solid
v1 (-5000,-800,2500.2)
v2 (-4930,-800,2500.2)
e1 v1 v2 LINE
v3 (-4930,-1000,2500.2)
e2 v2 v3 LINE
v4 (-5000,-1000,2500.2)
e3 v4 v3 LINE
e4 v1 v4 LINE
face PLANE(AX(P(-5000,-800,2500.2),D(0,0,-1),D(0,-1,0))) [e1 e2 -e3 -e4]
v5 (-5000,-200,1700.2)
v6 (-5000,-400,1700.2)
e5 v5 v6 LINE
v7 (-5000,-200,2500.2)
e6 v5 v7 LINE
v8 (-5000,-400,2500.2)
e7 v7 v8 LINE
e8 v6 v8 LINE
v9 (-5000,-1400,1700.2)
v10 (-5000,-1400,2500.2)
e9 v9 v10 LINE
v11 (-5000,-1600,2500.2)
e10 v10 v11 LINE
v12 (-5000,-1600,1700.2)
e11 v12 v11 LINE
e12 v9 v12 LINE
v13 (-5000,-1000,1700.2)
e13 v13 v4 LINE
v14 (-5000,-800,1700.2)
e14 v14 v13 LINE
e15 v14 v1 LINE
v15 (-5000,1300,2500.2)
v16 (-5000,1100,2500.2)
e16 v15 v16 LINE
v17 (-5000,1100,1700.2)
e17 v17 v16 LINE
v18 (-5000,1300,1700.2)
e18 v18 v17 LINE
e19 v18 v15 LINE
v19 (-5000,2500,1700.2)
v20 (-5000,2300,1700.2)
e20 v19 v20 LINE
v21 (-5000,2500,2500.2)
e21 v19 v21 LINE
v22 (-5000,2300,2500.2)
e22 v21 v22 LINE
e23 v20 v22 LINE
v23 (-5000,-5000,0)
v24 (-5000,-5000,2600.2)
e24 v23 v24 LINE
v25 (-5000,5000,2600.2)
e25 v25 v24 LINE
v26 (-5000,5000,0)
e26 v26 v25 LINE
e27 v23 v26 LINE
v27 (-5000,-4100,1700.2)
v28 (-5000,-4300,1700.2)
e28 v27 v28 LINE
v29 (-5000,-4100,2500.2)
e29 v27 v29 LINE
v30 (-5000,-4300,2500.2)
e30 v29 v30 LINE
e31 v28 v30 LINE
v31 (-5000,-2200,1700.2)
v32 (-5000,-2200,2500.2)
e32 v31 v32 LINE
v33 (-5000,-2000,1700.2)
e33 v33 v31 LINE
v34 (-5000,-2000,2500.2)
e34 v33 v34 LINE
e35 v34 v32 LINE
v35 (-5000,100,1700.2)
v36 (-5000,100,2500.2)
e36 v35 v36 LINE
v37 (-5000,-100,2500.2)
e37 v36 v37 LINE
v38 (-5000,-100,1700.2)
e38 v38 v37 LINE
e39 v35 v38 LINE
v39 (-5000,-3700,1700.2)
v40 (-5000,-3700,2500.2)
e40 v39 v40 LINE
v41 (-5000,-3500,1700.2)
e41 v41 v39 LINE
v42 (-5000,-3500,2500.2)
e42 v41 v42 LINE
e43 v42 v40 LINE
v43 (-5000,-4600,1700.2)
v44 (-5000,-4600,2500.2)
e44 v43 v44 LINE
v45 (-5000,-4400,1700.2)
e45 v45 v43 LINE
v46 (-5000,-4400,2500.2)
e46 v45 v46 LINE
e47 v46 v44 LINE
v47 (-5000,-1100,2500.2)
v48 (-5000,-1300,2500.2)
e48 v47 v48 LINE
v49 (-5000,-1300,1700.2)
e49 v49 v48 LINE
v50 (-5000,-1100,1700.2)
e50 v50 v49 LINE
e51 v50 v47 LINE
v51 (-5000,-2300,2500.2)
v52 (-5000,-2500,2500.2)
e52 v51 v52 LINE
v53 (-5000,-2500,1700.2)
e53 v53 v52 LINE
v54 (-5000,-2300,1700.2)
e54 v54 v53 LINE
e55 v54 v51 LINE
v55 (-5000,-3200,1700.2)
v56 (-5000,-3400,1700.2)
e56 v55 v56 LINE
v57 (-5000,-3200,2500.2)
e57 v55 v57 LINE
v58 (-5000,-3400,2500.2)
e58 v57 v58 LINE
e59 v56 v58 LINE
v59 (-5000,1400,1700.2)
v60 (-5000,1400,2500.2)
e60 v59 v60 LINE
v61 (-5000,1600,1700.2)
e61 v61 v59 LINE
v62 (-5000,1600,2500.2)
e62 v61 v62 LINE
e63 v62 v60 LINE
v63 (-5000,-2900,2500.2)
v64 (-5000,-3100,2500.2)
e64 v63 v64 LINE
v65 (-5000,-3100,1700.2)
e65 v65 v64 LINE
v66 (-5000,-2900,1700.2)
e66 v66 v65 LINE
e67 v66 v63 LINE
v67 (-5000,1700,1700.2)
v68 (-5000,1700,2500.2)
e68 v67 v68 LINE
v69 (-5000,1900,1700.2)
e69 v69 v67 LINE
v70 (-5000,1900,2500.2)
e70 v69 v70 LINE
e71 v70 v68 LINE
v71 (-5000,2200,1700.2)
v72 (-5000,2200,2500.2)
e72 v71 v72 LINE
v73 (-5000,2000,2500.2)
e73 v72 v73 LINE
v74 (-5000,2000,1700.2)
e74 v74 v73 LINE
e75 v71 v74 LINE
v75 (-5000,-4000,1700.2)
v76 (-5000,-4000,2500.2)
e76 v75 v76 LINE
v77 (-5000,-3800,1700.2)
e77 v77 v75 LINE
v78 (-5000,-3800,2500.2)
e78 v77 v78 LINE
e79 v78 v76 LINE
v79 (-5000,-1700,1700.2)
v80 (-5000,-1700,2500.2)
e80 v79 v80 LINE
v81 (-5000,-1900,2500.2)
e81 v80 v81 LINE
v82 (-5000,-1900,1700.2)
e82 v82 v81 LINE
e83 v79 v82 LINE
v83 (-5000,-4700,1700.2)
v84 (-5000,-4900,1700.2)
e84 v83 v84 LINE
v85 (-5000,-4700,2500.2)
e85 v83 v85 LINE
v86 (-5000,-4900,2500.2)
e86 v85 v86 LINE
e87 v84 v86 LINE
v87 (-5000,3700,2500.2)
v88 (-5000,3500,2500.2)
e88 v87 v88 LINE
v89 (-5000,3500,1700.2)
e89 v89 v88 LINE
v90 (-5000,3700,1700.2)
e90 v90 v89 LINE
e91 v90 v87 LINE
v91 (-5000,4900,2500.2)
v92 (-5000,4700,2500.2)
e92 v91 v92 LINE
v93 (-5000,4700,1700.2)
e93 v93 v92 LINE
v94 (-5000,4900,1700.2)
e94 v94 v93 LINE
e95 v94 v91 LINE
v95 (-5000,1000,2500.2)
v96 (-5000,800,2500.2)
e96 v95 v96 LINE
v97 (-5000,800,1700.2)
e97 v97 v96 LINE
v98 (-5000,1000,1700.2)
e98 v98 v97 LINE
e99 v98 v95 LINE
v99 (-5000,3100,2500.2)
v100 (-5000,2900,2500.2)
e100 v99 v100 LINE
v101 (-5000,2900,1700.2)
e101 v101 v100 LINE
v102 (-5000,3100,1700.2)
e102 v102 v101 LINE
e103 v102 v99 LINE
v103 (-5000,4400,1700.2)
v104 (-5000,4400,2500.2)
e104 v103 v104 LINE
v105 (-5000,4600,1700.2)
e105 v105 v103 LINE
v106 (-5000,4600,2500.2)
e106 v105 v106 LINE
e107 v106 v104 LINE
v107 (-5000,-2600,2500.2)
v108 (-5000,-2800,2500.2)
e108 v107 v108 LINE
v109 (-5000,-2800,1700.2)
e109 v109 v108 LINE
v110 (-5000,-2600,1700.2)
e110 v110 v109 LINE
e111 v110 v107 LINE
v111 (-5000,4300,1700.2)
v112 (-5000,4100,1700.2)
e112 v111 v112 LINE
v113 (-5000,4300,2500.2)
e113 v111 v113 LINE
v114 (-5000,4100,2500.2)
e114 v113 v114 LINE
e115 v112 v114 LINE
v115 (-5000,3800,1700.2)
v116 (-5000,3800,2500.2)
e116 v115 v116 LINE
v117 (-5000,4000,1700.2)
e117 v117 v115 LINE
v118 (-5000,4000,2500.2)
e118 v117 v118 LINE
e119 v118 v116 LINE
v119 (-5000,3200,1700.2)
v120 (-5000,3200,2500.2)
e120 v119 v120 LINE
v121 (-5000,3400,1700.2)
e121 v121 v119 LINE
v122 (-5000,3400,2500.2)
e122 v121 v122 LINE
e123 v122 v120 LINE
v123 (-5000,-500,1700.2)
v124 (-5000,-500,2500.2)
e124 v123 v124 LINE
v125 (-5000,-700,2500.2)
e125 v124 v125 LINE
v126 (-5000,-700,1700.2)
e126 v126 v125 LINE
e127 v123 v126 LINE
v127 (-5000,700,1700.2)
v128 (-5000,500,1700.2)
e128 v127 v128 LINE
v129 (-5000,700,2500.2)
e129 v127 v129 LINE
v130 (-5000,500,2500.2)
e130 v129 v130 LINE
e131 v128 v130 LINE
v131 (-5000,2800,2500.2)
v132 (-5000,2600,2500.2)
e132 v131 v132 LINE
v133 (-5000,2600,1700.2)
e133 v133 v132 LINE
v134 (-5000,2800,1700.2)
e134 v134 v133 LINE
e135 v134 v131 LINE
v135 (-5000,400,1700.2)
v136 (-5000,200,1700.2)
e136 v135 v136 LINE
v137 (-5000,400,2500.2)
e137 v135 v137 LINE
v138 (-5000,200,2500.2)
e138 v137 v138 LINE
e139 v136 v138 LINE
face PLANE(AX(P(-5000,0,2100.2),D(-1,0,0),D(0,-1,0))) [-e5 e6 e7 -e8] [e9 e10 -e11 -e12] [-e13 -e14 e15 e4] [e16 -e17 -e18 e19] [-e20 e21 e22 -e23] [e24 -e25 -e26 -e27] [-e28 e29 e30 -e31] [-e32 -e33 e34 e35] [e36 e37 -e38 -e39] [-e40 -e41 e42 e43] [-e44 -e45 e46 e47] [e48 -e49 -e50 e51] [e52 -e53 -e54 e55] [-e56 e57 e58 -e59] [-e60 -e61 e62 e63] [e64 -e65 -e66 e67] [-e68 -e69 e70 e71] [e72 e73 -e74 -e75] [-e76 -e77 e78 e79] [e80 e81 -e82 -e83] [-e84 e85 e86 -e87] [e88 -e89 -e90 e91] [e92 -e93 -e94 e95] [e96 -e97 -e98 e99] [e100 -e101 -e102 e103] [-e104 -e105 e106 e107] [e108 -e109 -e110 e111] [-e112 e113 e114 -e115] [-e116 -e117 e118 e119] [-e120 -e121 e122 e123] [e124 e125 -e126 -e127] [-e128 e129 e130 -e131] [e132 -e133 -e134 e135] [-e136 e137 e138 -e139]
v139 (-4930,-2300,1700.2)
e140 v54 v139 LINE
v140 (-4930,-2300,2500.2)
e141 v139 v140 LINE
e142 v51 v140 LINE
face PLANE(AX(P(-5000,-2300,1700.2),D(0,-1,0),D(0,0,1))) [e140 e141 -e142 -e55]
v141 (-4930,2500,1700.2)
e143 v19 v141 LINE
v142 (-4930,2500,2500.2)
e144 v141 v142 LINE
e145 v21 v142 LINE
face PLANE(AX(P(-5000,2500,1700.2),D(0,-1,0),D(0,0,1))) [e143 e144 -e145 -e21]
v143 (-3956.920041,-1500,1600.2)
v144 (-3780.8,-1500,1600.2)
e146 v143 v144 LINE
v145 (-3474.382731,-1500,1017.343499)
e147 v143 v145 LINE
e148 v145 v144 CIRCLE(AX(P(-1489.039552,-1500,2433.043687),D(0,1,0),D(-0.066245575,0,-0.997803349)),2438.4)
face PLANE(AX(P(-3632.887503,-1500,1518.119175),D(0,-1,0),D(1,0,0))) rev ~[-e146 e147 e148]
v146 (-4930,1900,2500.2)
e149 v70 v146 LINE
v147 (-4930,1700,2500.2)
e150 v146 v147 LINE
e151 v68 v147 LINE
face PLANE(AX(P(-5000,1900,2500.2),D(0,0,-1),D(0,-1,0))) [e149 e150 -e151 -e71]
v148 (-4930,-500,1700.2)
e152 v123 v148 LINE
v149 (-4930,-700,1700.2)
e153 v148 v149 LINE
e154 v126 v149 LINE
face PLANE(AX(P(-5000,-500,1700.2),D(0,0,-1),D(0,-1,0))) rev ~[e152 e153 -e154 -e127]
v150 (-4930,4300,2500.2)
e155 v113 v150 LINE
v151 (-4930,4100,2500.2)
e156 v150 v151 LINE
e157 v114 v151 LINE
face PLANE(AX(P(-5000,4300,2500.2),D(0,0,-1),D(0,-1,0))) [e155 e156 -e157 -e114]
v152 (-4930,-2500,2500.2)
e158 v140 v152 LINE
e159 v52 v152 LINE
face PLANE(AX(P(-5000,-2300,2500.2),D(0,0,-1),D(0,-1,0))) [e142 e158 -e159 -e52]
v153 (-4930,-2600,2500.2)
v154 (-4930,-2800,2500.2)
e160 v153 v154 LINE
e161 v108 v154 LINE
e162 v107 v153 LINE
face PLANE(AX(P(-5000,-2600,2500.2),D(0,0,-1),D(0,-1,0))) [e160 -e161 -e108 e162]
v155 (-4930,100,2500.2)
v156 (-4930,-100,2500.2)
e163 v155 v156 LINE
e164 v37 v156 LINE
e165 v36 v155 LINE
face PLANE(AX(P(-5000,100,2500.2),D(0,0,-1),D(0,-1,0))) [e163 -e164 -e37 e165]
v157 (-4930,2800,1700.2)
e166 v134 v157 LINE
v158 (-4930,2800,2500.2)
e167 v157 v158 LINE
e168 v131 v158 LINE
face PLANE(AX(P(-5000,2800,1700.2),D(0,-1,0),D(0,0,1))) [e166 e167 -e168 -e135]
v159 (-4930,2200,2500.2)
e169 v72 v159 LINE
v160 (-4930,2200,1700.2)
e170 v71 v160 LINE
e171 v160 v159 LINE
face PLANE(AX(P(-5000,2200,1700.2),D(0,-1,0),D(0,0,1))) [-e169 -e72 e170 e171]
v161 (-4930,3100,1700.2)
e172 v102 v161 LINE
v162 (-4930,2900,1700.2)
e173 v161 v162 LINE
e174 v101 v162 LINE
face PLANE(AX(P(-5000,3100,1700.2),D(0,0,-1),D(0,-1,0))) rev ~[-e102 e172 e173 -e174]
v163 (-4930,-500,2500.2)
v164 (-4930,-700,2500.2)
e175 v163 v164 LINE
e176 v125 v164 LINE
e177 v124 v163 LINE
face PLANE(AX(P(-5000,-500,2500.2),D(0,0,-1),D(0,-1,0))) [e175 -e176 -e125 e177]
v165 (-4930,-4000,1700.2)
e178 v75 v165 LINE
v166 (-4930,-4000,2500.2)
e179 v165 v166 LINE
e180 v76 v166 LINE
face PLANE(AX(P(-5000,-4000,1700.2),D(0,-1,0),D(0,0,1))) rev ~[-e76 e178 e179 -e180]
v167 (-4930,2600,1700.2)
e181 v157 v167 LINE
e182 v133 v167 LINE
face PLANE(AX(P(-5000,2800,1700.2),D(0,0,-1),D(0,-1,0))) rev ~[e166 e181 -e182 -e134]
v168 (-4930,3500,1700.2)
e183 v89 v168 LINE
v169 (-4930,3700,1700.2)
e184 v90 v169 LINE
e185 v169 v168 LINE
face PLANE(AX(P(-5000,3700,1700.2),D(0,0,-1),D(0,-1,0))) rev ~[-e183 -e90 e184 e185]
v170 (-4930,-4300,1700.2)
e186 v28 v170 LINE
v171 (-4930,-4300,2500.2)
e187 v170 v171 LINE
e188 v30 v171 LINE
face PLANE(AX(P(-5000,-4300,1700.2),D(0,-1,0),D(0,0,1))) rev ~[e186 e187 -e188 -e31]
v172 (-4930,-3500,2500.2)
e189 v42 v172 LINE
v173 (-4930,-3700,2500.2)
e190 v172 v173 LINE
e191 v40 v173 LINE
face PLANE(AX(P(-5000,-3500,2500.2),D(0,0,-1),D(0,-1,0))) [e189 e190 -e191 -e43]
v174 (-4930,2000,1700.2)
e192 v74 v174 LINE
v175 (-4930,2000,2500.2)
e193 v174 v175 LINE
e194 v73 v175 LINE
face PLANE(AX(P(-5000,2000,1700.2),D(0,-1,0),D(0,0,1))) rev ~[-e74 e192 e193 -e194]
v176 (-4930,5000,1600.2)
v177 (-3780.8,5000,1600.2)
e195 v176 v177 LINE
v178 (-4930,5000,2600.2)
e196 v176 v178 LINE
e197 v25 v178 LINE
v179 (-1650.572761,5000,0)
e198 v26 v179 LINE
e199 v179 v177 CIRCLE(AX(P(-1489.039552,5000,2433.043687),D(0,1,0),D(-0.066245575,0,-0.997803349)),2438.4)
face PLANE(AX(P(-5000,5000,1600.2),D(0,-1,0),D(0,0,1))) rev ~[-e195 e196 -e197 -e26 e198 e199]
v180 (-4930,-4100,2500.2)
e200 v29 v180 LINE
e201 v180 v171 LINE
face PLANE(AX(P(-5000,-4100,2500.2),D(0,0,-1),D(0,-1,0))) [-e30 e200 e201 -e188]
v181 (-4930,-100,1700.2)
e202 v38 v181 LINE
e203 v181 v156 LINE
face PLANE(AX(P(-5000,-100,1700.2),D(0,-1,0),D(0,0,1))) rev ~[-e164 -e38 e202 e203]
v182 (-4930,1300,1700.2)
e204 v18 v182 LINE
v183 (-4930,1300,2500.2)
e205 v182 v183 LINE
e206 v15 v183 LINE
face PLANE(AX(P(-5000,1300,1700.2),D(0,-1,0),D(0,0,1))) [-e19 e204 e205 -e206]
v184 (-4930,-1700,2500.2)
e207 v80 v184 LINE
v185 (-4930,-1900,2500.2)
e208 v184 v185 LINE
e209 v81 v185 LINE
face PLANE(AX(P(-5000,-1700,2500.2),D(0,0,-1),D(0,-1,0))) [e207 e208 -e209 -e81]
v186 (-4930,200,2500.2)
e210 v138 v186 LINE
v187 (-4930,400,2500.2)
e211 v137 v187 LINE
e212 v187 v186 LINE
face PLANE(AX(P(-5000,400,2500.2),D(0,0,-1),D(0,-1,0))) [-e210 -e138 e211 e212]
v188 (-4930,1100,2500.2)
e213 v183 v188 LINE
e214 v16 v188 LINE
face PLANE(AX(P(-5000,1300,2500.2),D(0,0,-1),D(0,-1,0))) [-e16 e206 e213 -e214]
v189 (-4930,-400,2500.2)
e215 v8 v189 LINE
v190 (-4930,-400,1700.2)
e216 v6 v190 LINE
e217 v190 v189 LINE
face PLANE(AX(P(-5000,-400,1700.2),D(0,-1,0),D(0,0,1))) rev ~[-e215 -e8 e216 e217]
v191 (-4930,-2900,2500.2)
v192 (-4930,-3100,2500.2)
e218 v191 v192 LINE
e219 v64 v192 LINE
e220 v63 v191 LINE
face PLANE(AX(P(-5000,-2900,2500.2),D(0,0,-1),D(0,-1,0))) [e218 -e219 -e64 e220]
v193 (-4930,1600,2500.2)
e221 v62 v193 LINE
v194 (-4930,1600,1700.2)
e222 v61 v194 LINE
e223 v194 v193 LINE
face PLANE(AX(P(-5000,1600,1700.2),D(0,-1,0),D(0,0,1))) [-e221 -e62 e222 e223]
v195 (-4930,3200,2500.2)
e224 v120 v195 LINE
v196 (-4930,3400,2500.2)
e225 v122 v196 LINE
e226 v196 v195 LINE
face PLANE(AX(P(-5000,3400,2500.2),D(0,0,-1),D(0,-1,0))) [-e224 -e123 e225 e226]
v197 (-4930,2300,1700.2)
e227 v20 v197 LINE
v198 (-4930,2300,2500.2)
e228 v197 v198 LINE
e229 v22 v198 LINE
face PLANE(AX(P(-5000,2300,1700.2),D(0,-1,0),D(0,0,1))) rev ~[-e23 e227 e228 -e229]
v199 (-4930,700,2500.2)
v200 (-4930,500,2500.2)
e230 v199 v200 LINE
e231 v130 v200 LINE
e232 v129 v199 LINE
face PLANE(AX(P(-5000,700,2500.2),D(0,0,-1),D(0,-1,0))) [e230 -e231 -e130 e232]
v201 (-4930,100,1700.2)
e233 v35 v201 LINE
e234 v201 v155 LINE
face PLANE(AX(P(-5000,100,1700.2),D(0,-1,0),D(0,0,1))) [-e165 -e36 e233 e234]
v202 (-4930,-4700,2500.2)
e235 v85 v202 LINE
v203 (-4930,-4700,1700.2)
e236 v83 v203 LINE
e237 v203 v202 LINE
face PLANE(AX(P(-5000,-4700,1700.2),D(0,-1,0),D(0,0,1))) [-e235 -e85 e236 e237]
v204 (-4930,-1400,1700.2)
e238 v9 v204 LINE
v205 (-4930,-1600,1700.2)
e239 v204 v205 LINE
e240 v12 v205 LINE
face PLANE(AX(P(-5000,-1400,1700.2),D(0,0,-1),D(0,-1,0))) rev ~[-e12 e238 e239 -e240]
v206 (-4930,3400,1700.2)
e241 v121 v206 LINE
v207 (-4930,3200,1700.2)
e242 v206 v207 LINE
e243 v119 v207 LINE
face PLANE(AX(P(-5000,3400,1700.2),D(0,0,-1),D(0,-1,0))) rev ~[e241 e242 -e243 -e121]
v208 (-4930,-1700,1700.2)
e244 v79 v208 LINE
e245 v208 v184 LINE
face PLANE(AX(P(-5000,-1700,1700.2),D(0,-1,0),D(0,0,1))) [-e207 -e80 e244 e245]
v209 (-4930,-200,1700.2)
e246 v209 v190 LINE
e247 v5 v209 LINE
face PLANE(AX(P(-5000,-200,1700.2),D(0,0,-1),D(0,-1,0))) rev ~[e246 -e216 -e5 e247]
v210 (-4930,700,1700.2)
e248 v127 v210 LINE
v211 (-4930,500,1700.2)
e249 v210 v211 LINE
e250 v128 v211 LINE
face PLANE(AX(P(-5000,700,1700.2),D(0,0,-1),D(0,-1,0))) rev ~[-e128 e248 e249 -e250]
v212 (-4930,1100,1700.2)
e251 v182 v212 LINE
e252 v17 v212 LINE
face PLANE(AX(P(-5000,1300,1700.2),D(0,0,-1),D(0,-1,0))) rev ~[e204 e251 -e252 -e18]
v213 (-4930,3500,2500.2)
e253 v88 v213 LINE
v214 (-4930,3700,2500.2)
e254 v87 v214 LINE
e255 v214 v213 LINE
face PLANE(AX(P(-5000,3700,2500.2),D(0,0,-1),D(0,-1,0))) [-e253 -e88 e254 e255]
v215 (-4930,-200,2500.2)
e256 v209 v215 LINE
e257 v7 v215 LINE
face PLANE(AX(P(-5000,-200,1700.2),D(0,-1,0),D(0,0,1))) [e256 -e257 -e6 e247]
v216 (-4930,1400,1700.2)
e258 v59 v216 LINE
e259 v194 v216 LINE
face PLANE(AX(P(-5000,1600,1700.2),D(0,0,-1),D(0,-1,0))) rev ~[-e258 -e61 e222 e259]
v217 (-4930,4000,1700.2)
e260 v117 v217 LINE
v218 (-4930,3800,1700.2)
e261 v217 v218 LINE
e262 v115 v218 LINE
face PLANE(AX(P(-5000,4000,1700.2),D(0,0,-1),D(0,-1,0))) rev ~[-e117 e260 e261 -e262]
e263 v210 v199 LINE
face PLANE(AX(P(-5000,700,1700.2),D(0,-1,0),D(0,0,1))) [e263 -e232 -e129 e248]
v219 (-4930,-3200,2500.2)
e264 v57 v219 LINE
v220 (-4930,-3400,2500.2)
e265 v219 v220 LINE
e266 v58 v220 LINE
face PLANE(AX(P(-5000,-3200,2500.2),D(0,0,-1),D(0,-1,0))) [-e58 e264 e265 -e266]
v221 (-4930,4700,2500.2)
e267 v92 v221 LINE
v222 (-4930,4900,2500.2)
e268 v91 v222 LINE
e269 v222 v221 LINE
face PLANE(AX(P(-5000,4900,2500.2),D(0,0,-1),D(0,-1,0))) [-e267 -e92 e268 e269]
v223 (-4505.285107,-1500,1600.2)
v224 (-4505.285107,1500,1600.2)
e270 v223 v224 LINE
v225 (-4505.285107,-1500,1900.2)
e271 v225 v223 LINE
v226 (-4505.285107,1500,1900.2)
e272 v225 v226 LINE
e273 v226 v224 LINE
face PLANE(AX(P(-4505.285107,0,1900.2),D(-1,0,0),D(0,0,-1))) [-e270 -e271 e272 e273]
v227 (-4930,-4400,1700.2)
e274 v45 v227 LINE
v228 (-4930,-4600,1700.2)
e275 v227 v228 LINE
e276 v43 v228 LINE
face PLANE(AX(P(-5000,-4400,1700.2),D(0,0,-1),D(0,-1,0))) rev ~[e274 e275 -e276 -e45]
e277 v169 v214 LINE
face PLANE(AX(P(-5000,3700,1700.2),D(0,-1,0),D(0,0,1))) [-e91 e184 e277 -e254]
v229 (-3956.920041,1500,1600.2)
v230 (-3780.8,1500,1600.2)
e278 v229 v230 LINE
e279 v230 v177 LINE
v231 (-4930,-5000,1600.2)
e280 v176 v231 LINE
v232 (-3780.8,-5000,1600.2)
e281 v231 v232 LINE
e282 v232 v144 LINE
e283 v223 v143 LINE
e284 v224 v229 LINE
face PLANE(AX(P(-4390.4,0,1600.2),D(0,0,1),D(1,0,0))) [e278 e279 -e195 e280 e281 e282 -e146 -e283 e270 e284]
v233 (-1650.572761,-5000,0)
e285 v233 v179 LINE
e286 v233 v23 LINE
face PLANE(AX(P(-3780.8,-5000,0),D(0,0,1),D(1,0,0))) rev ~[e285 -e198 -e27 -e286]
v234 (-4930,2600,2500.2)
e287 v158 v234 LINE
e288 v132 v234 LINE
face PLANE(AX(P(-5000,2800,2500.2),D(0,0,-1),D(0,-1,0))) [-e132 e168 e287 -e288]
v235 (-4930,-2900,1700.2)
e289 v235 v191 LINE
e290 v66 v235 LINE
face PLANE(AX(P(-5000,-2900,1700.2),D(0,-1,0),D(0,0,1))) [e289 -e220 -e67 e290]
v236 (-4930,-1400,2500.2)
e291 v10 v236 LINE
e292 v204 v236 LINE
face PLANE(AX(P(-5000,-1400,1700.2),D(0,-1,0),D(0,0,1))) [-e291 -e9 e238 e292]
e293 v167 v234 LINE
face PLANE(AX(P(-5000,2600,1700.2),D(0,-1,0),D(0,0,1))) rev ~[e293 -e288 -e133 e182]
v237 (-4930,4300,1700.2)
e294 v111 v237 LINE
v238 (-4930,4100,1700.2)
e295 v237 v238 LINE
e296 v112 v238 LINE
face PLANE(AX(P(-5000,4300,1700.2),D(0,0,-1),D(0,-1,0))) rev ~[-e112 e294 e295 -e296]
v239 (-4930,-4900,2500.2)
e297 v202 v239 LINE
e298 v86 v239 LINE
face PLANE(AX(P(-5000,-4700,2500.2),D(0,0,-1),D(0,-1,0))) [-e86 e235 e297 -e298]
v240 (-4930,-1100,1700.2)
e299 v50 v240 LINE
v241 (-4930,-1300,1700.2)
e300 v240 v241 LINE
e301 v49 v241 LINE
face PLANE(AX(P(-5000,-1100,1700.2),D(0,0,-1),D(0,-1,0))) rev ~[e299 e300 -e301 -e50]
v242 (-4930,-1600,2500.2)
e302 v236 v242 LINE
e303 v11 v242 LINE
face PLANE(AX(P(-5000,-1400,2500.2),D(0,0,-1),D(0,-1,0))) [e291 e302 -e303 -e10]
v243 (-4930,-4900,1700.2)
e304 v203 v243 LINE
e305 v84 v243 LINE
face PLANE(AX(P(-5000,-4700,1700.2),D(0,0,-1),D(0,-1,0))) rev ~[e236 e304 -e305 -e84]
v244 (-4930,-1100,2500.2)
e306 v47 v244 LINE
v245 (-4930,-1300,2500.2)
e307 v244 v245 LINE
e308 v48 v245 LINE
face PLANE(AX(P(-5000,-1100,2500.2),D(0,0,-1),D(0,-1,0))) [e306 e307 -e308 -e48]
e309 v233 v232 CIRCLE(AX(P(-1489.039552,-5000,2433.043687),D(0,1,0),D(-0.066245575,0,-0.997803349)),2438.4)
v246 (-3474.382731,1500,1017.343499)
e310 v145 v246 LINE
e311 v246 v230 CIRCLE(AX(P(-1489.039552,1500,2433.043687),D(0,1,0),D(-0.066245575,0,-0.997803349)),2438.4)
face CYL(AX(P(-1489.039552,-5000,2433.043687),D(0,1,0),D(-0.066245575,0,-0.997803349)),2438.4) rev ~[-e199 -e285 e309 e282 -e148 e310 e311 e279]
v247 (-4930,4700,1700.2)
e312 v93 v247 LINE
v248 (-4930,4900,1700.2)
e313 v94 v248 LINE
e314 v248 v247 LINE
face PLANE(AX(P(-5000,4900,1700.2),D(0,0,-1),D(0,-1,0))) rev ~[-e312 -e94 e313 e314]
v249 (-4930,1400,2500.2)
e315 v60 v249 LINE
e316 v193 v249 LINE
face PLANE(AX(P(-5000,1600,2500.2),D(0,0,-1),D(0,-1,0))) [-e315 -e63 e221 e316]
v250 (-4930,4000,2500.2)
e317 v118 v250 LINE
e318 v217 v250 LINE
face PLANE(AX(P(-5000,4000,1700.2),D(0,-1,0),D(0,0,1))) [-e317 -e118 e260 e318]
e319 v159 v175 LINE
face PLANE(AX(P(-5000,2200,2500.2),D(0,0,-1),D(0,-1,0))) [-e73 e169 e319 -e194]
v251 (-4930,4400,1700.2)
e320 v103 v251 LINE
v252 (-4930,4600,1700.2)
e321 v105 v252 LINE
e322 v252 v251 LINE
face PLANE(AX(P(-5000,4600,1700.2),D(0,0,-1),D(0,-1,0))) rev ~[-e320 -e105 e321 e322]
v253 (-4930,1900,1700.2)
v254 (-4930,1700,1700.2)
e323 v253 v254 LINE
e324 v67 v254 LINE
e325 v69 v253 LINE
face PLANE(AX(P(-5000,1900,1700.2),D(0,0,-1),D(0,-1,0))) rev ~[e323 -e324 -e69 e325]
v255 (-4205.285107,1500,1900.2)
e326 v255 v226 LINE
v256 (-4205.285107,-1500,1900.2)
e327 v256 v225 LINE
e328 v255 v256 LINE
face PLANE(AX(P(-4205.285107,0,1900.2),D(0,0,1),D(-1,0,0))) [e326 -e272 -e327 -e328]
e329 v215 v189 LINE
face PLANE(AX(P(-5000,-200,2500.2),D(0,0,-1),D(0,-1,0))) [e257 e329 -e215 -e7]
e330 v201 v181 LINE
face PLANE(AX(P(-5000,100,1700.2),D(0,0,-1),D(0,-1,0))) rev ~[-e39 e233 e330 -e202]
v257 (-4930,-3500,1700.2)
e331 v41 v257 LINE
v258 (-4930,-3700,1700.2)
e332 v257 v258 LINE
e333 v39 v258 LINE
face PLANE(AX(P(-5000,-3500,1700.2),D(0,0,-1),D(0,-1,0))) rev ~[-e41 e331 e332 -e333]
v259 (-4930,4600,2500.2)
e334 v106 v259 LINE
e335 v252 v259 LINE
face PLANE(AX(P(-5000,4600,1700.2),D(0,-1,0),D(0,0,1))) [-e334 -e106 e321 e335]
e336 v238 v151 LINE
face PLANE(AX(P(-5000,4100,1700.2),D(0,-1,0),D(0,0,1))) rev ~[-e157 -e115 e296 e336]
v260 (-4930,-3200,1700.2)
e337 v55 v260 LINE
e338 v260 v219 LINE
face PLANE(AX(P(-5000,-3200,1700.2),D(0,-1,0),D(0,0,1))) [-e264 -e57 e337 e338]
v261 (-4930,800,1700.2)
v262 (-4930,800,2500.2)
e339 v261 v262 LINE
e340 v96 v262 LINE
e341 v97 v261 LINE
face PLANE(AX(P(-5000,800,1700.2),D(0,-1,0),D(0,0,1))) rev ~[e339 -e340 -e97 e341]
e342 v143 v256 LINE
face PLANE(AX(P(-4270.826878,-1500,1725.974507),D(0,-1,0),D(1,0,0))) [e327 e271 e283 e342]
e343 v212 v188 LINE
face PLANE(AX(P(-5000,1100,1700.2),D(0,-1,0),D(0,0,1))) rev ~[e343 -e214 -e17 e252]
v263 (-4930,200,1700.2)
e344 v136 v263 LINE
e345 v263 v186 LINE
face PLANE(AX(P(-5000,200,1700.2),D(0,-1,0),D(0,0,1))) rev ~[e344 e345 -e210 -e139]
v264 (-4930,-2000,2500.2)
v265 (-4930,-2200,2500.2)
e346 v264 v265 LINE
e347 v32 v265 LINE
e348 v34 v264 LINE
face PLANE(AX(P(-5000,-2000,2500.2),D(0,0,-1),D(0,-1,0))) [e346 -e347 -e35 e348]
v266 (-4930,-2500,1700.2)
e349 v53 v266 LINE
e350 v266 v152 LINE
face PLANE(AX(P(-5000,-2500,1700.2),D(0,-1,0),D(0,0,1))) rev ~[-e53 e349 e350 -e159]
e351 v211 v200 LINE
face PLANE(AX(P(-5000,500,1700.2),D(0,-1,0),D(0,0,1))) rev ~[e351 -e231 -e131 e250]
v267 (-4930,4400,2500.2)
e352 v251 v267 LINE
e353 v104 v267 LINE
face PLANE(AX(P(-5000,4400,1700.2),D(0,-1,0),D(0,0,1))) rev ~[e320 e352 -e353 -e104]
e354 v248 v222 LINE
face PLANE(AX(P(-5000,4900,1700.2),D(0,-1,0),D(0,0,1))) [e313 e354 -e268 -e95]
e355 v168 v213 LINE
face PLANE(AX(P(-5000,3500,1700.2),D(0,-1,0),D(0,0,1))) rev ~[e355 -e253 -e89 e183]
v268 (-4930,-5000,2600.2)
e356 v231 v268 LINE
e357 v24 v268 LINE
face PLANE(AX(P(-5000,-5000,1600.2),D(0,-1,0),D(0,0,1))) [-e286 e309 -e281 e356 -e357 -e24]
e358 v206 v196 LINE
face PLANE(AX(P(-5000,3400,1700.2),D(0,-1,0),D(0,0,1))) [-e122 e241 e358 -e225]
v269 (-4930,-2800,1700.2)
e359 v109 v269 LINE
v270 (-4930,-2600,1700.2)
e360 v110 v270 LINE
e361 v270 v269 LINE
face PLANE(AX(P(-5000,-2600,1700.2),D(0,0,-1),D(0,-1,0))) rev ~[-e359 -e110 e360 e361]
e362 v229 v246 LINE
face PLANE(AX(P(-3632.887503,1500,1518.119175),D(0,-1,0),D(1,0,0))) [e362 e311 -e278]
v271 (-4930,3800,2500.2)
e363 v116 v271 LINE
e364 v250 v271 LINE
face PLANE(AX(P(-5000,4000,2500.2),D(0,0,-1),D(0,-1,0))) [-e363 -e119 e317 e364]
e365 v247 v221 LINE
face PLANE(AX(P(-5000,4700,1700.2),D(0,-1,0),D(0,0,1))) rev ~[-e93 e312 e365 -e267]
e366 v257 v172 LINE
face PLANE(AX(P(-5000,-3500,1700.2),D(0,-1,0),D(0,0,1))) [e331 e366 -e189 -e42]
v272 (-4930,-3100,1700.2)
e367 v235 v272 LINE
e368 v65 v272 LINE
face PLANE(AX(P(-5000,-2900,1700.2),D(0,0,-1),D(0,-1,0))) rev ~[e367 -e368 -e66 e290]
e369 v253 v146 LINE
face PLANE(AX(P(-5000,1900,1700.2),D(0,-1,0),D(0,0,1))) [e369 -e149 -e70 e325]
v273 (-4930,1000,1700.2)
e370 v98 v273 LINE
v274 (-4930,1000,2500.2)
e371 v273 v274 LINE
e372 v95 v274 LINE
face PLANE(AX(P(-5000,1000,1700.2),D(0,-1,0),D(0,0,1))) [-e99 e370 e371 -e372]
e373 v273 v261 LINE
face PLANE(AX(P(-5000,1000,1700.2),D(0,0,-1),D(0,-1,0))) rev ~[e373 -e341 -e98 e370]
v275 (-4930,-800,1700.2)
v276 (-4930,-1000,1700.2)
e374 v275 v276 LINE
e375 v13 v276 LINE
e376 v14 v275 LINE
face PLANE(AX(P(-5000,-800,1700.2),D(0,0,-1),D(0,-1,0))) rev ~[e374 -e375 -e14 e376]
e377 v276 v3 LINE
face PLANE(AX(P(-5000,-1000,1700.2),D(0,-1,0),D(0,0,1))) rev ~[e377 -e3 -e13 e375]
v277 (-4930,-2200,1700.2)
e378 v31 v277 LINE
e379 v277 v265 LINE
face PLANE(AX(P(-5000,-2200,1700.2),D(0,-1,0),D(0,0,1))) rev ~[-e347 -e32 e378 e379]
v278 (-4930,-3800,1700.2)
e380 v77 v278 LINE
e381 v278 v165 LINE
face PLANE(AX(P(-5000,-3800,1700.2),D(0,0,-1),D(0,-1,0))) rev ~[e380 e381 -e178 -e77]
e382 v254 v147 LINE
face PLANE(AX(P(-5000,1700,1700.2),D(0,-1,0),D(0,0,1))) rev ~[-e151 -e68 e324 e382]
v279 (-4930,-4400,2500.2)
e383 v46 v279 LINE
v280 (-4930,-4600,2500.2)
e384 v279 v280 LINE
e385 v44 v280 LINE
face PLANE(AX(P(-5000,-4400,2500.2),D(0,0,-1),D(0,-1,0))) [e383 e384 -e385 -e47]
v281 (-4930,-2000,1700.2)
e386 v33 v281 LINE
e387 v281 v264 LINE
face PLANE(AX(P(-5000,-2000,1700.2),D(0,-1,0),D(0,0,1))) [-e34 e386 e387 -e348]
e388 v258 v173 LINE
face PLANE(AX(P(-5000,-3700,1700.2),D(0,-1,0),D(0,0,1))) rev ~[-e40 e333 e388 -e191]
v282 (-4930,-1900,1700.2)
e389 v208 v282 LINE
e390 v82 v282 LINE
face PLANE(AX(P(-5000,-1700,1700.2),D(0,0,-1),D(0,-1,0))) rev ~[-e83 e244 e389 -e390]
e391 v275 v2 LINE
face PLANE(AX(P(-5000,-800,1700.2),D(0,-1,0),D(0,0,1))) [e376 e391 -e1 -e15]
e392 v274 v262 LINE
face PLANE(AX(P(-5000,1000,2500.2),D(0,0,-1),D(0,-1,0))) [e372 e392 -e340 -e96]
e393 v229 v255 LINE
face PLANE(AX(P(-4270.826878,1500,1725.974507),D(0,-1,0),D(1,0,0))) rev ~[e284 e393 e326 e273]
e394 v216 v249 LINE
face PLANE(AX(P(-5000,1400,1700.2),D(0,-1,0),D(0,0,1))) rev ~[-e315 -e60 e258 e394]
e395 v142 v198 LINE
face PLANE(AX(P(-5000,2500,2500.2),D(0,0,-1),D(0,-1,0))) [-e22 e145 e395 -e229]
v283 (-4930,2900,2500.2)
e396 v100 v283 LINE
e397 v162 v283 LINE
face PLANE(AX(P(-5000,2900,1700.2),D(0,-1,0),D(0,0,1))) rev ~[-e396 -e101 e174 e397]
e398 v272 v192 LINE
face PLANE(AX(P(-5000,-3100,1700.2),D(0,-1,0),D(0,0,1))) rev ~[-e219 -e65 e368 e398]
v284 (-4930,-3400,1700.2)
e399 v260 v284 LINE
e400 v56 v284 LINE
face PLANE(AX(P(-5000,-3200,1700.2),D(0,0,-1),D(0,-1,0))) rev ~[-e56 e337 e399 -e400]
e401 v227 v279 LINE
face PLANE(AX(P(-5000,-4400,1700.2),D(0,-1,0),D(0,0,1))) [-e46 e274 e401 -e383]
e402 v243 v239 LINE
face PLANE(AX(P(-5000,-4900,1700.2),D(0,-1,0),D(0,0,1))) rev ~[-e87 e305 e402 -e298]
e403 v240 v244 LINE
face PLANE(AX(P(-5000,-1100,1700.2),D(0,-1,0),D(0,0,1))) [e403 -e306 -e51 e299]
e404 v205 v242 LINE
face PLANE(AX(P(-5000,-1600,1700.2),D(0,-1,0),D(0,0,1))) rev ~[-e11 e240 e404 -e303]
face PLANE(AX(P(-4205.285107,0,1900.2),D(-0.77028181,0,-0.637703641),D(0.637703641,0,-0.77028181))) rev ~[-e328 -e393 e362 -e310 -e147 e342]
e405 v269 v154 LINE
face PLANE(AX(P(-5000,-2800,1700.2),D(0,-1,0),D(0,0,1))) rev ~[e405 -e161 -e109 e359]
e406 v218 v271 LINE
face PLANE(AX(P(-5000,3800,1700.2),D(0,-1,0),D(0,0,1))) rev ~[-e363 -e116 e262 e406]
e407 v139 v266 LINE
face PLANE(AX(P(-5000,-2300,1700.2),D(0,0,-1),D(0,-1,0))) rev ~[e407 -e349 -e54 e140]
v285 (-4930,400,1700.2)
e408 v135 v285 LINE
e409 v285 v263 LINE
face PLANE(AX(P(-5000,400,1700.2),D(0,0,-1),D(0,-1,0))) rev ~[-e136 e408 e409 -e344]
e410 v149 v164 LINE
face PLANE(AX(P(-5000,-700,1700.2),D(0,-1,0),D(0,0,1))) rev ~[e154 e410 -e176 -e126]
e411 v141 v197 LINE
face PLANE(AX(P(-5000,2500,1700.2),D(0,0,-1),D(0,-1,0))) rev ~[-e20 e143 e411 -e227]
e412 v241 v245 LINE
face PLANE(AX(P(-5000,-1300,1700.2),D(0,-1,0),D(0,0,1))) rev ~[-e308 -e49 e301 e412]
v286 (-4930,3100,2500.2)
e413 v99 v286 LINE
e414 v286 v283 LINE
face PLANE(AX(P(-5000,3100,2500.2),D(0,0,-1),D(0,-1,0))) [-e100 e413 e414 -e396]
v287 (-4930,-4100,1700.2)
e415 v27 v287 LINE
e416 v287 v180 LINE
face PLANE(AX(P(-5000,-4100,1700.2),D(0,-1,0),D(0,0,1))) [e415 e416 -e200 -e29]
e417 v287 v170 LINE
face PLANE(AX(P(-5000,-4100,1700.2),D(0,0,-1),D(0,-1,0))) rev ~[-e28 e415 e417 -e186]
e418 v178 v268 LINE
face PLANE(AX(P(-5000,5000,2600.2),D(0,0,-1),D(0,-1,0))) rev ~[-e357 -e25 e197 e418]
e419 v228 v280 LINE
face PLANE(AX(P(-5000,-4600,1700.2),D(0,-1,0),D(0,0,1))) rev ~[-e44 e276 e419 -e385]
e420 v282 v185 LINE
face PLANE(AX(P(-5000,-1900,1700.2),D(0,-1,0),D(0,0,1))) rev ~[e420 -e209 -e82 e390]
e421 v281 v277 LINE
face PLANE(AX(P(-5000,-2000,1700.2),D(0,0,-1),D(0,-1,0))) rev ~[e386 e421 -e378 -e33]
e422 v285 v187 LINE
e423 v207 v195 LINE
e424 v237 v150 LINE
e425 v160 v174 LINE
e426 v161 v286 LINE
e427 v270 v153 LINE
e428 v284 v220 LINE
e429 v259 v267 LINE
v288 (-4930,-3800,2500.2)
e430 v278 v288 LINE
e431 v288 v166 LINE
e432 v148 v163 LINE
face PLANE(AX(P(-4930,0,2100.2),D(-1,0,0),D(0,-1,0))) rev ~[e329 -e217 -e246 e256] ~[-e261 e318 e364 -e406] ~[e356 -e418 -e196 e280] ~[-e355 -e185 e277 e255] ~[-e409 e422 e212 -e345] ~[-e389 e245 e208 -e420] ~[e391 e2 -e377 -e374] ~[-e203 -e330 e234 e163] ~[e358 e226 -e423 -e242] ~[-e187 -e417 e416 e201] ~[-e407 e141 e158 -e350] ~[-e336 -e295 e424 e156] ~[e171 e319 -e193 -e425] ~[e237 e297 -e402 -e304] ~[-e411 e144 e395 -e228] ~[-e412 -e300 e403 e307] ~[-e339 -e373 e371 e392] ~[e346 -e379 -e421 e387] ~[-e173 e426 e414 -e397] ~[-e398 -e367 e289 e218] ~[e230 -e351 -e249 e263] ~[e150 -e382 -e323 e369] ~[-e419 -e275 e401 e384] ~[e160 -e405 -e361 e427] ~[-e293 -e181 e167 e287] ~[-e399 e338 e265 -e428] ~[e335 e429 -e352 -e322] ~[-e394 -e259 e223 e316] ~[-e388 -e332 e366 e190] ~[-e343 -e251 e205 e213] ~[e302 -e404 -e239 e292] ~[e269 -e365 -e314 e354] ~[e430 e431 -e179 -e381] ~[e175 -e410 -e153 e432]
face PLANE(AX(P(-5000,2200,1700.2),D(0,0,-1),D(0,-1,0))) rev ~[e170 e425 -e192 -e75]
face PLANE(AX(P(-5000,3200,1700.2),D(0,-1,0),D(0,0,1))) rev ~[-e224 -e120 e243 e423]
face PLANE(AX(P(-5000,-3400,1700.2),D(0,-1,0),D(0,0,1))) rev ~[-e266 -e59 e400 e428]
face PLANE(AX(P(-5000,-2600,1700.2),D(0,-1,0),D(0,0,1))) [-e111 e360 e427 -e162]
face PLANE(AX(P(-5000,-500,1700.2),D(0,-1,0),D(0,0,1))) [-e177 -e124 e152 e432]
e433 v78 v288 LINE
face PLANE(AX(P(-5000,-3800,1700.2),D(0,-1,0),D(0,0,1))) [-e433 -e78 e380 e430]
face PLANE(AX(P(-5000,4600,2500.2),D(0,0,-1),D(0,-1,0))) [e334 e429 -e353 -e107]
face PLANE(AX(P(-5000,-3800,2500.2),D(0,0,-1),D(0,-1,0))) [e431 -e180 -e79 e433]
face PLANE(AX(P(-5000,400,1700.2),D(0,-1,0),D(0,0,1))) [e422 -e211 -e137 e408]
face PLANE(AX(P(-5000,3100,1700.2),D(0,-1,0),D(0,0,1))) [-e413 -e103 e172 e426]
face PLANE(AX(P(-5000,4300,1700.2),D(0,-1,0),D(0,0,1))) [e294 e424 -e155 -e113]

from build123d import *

# Parameters (mm, degrees)
F0_W      = 1219.2
F0_H      = 10000
F1_DEPTH  = 1600.2
F4_W      = 10000
F4_H      = 1000
F4_W_2    = 200
F4_H_2    = 800
F5_DEPTH  = 70
F9_DEPTH  = 1500
F10_DEPTH = 1500


with BuildPart() as f1:
    # F0 (on Top) → F1 (new body)
    with BuildSketch(Plane.XY):
        with Locations((-4390.4, 0)):
            Rectangle(F0_W, F0_H)
    extrude(amount=F1_DEPTH)

    # F3: sweep along a path in F3_path
    with BuildLine(Plane(origin=(-3780.8, -5000, 1600.2), x_dir=(0, -1, 0), z_dir=(0, 0, -1))) as f3_path:
        Line((0, 0), (-10000, 0))
    # F2 (on face) → F3 (sweep)
    with BuildSketch(Plane.XZ.offset(5000)):
        with BuildLine():
            ThreePointArc((-1650.5727613571, 0), (-2953.5607884704, 483.4354937794), (-3780.8, 1600.2))
            Line((-3780.8, 1600.2), (-3780.8, 0))
            Line((-3780.8, 0), (-1650.5727613571, 0))
        make_face()
    sweep(path=f3_path.line)

    # F4 (on face) → F5 (join)
    with BuildSketch(Plane(origin=(-5000, 0, 0), x_dir=(0, -1, 0), z_dir=(-1, 0, 0))):
        with Locations((0, 2100.2)):
            Rectangle(F4_W, F4_H)
        with Locations((-4800, 2100.2)):
            Rectangle(F4_W_2, F4_H_2, mode=Mode.SUBTRACT)
        with Locations((-4500, 2100.2)):
            Rectangle(F4_W_2, F4_H_2, mode=Mode.SUBTRACT)
        with Locations((-4200, 2100.2)):
            Rectangle(F4_W_2, F4_H_2, mode=Mode.SUBTRACT)
        with Locations((-3900, 2100.2)):
            Rectangle(F4_W_2, F4_H_2, mode=Mode.SUBTRACT)
        with Locations((-3600, 2100.2)):
            Rectangle(F4_W_2, F4_H_2, mode=Mode.SUBTRACT)
        with Locations((-3300, 2100.2)):
            Rectangle(F4_W_2, F4_H_2, mode=Mode.SUBTRACT)
        with Locations((-3000, 2100.2)):
            Rectangle(F4_W_2, F4_H_2, mode=Mode.SUBTRACT)
        with Locations((-2700, 2100.2)):
            Rectangle(F4_W_2, F4_H_2, mode=Mode.SUBTRACT)
        with Locations((-2400, 2100.2)):
            Rectangle(F4_W_2, F4_H_2, mode=Mode.SUBTRACT)
        with Locations((-2100, 2100.2)):
            Rectangle(F4_W_2, F4_H_2, mode=Mode.SUBTRACT)
        with Locations((-1800, 2100.2)):
            Rectangle(F4_W_2, F4_H_2, mode=Mode.SUBTRACT)
        with Locations((-1500, 2100.2)):
            Rectangle(F4_W_2, F4_H_2, mode=Mode.SUBTRACT)
        with Locations((-1200, 2100.2)):
            Rectangle(F4_W_2, F4_H_2, mode=Mode.SUBTRACT)
        with Locations((-900, 2100.2)):
            Rectangle(F4_W_2, F4_H_2, mode=Mode.SUBTRACT)
        with Locations((-600, 2100.2)):
            Rectangle(F4_W_2, F4_H_2, mode=Mode.SUBTRACT)
        with Locations((-300, 2100.2)):
            Rectangle(F4_W_2, F4_H_2, mode=Mode.SUBTRACT)
        with Locations((0, 2100.2)):
            Rectangle(F4_W_2, F4_H_2, mode=Mode.SUBTRACT)
        with Locations((300, 2100.2)):
            Rectangle(F4_W_2, F4_H_2, mode=Mode.SUBTRACT)
        with Locations((600, 2100.2)):
            Rectangle(F4_W_2, F4_H_2, mode=Mode.SUBTRACT)
        with Locations((900, 2100.2)):
            Rectangle(F4_W_2, F4_H_2, mode=Mode.SUBTRACT)
        with Locations((1200, 2100.2)):
            Rectangle(F4_W_2, F4_H_2, mode=Mode.SUBTRACT)
        with Locations((1500, 2100.2)):
            Rectangle(F4_W_2, F4_H_2, mode=Mode.SUBTRACT)
        with Locations((1800, 2100.2)):
            Rectangle(F4_W_2, F4_H_2, mode=Mode.SUBTRACT)
        with Locations((2100, 2100.2)):
            Rectangle(F4_W_2, F4_H_2, mode=Mode.SUBTRACT)
        with Locations((2400, 2100.2)):
            Rectangle(F4_W_2, F4_H_2, mode=Mode.SUBTRACT)
        with Locations((2700, 2100.2)):
            Rectangle(F4_W_2, F4_H_2, mode=Mode.SUBTRACT)
        with Locations((3000, 2100.2)):
            Rectangle(F4_W_2, F4_H_2, mode=Mode.SUBTRACT)
        with Locations((3300, 2100.2)):
            Rectangle(F4_W_2, F4_H_2, mode=Mode.SUBTRACT)
        with Locations((3600, 2100.2)):
            Rectangle(F4_W_2, F4_H_2, mode=Mode.SUBTRACT)
        with Locations((3900, 2100.2)):
            Rectangle(F4_W_2, F4_H_2, mode=Mode.SUBTRACT)
        with Locations((4200, 2100.2)):
            Rectangle(F4_W_2, F4_H_2, mode=Mode.SUBTRACT)
        with Locations((4500, 2100.2)):
            Rectangle(F4_W_2, F4_H_2, mode=Mode.SUBTRACT)
        with Locations((4800, 2100.2)):
            Rectangle(F4_W_2, F4_H_2, mode=Mode.SUBTRACT)
    extrude(amount=-F5_DEPTH)

    # F8 (on face) → F9 (join, symmetric)
    with BuildSketch(Plane.XZ):
        Polygon((-4505.2851068323, 1600.2), (-3956.9200410682, 1600.2), (-4205.2851068323, 1900.2), (-4505.2851068323, 1900.2), align=None)
    extrude(amount=F9_DEPTH, both=True)

    # F8 (on face) → F10 (cut, symmetric)
    with BuildSketch(Plane.XZ):
        Polygon((-4205.2851068323, 1900.2), (-3956.9200410682, 1600.2), (-3334.445476532, 848.3133818626), (-3353.2772064209, 1927.1024372101), align=None)
    extrude(amount=F10_DEPTH, both=True, mode=Mode.SUBTRACT)


solid = f1.part
